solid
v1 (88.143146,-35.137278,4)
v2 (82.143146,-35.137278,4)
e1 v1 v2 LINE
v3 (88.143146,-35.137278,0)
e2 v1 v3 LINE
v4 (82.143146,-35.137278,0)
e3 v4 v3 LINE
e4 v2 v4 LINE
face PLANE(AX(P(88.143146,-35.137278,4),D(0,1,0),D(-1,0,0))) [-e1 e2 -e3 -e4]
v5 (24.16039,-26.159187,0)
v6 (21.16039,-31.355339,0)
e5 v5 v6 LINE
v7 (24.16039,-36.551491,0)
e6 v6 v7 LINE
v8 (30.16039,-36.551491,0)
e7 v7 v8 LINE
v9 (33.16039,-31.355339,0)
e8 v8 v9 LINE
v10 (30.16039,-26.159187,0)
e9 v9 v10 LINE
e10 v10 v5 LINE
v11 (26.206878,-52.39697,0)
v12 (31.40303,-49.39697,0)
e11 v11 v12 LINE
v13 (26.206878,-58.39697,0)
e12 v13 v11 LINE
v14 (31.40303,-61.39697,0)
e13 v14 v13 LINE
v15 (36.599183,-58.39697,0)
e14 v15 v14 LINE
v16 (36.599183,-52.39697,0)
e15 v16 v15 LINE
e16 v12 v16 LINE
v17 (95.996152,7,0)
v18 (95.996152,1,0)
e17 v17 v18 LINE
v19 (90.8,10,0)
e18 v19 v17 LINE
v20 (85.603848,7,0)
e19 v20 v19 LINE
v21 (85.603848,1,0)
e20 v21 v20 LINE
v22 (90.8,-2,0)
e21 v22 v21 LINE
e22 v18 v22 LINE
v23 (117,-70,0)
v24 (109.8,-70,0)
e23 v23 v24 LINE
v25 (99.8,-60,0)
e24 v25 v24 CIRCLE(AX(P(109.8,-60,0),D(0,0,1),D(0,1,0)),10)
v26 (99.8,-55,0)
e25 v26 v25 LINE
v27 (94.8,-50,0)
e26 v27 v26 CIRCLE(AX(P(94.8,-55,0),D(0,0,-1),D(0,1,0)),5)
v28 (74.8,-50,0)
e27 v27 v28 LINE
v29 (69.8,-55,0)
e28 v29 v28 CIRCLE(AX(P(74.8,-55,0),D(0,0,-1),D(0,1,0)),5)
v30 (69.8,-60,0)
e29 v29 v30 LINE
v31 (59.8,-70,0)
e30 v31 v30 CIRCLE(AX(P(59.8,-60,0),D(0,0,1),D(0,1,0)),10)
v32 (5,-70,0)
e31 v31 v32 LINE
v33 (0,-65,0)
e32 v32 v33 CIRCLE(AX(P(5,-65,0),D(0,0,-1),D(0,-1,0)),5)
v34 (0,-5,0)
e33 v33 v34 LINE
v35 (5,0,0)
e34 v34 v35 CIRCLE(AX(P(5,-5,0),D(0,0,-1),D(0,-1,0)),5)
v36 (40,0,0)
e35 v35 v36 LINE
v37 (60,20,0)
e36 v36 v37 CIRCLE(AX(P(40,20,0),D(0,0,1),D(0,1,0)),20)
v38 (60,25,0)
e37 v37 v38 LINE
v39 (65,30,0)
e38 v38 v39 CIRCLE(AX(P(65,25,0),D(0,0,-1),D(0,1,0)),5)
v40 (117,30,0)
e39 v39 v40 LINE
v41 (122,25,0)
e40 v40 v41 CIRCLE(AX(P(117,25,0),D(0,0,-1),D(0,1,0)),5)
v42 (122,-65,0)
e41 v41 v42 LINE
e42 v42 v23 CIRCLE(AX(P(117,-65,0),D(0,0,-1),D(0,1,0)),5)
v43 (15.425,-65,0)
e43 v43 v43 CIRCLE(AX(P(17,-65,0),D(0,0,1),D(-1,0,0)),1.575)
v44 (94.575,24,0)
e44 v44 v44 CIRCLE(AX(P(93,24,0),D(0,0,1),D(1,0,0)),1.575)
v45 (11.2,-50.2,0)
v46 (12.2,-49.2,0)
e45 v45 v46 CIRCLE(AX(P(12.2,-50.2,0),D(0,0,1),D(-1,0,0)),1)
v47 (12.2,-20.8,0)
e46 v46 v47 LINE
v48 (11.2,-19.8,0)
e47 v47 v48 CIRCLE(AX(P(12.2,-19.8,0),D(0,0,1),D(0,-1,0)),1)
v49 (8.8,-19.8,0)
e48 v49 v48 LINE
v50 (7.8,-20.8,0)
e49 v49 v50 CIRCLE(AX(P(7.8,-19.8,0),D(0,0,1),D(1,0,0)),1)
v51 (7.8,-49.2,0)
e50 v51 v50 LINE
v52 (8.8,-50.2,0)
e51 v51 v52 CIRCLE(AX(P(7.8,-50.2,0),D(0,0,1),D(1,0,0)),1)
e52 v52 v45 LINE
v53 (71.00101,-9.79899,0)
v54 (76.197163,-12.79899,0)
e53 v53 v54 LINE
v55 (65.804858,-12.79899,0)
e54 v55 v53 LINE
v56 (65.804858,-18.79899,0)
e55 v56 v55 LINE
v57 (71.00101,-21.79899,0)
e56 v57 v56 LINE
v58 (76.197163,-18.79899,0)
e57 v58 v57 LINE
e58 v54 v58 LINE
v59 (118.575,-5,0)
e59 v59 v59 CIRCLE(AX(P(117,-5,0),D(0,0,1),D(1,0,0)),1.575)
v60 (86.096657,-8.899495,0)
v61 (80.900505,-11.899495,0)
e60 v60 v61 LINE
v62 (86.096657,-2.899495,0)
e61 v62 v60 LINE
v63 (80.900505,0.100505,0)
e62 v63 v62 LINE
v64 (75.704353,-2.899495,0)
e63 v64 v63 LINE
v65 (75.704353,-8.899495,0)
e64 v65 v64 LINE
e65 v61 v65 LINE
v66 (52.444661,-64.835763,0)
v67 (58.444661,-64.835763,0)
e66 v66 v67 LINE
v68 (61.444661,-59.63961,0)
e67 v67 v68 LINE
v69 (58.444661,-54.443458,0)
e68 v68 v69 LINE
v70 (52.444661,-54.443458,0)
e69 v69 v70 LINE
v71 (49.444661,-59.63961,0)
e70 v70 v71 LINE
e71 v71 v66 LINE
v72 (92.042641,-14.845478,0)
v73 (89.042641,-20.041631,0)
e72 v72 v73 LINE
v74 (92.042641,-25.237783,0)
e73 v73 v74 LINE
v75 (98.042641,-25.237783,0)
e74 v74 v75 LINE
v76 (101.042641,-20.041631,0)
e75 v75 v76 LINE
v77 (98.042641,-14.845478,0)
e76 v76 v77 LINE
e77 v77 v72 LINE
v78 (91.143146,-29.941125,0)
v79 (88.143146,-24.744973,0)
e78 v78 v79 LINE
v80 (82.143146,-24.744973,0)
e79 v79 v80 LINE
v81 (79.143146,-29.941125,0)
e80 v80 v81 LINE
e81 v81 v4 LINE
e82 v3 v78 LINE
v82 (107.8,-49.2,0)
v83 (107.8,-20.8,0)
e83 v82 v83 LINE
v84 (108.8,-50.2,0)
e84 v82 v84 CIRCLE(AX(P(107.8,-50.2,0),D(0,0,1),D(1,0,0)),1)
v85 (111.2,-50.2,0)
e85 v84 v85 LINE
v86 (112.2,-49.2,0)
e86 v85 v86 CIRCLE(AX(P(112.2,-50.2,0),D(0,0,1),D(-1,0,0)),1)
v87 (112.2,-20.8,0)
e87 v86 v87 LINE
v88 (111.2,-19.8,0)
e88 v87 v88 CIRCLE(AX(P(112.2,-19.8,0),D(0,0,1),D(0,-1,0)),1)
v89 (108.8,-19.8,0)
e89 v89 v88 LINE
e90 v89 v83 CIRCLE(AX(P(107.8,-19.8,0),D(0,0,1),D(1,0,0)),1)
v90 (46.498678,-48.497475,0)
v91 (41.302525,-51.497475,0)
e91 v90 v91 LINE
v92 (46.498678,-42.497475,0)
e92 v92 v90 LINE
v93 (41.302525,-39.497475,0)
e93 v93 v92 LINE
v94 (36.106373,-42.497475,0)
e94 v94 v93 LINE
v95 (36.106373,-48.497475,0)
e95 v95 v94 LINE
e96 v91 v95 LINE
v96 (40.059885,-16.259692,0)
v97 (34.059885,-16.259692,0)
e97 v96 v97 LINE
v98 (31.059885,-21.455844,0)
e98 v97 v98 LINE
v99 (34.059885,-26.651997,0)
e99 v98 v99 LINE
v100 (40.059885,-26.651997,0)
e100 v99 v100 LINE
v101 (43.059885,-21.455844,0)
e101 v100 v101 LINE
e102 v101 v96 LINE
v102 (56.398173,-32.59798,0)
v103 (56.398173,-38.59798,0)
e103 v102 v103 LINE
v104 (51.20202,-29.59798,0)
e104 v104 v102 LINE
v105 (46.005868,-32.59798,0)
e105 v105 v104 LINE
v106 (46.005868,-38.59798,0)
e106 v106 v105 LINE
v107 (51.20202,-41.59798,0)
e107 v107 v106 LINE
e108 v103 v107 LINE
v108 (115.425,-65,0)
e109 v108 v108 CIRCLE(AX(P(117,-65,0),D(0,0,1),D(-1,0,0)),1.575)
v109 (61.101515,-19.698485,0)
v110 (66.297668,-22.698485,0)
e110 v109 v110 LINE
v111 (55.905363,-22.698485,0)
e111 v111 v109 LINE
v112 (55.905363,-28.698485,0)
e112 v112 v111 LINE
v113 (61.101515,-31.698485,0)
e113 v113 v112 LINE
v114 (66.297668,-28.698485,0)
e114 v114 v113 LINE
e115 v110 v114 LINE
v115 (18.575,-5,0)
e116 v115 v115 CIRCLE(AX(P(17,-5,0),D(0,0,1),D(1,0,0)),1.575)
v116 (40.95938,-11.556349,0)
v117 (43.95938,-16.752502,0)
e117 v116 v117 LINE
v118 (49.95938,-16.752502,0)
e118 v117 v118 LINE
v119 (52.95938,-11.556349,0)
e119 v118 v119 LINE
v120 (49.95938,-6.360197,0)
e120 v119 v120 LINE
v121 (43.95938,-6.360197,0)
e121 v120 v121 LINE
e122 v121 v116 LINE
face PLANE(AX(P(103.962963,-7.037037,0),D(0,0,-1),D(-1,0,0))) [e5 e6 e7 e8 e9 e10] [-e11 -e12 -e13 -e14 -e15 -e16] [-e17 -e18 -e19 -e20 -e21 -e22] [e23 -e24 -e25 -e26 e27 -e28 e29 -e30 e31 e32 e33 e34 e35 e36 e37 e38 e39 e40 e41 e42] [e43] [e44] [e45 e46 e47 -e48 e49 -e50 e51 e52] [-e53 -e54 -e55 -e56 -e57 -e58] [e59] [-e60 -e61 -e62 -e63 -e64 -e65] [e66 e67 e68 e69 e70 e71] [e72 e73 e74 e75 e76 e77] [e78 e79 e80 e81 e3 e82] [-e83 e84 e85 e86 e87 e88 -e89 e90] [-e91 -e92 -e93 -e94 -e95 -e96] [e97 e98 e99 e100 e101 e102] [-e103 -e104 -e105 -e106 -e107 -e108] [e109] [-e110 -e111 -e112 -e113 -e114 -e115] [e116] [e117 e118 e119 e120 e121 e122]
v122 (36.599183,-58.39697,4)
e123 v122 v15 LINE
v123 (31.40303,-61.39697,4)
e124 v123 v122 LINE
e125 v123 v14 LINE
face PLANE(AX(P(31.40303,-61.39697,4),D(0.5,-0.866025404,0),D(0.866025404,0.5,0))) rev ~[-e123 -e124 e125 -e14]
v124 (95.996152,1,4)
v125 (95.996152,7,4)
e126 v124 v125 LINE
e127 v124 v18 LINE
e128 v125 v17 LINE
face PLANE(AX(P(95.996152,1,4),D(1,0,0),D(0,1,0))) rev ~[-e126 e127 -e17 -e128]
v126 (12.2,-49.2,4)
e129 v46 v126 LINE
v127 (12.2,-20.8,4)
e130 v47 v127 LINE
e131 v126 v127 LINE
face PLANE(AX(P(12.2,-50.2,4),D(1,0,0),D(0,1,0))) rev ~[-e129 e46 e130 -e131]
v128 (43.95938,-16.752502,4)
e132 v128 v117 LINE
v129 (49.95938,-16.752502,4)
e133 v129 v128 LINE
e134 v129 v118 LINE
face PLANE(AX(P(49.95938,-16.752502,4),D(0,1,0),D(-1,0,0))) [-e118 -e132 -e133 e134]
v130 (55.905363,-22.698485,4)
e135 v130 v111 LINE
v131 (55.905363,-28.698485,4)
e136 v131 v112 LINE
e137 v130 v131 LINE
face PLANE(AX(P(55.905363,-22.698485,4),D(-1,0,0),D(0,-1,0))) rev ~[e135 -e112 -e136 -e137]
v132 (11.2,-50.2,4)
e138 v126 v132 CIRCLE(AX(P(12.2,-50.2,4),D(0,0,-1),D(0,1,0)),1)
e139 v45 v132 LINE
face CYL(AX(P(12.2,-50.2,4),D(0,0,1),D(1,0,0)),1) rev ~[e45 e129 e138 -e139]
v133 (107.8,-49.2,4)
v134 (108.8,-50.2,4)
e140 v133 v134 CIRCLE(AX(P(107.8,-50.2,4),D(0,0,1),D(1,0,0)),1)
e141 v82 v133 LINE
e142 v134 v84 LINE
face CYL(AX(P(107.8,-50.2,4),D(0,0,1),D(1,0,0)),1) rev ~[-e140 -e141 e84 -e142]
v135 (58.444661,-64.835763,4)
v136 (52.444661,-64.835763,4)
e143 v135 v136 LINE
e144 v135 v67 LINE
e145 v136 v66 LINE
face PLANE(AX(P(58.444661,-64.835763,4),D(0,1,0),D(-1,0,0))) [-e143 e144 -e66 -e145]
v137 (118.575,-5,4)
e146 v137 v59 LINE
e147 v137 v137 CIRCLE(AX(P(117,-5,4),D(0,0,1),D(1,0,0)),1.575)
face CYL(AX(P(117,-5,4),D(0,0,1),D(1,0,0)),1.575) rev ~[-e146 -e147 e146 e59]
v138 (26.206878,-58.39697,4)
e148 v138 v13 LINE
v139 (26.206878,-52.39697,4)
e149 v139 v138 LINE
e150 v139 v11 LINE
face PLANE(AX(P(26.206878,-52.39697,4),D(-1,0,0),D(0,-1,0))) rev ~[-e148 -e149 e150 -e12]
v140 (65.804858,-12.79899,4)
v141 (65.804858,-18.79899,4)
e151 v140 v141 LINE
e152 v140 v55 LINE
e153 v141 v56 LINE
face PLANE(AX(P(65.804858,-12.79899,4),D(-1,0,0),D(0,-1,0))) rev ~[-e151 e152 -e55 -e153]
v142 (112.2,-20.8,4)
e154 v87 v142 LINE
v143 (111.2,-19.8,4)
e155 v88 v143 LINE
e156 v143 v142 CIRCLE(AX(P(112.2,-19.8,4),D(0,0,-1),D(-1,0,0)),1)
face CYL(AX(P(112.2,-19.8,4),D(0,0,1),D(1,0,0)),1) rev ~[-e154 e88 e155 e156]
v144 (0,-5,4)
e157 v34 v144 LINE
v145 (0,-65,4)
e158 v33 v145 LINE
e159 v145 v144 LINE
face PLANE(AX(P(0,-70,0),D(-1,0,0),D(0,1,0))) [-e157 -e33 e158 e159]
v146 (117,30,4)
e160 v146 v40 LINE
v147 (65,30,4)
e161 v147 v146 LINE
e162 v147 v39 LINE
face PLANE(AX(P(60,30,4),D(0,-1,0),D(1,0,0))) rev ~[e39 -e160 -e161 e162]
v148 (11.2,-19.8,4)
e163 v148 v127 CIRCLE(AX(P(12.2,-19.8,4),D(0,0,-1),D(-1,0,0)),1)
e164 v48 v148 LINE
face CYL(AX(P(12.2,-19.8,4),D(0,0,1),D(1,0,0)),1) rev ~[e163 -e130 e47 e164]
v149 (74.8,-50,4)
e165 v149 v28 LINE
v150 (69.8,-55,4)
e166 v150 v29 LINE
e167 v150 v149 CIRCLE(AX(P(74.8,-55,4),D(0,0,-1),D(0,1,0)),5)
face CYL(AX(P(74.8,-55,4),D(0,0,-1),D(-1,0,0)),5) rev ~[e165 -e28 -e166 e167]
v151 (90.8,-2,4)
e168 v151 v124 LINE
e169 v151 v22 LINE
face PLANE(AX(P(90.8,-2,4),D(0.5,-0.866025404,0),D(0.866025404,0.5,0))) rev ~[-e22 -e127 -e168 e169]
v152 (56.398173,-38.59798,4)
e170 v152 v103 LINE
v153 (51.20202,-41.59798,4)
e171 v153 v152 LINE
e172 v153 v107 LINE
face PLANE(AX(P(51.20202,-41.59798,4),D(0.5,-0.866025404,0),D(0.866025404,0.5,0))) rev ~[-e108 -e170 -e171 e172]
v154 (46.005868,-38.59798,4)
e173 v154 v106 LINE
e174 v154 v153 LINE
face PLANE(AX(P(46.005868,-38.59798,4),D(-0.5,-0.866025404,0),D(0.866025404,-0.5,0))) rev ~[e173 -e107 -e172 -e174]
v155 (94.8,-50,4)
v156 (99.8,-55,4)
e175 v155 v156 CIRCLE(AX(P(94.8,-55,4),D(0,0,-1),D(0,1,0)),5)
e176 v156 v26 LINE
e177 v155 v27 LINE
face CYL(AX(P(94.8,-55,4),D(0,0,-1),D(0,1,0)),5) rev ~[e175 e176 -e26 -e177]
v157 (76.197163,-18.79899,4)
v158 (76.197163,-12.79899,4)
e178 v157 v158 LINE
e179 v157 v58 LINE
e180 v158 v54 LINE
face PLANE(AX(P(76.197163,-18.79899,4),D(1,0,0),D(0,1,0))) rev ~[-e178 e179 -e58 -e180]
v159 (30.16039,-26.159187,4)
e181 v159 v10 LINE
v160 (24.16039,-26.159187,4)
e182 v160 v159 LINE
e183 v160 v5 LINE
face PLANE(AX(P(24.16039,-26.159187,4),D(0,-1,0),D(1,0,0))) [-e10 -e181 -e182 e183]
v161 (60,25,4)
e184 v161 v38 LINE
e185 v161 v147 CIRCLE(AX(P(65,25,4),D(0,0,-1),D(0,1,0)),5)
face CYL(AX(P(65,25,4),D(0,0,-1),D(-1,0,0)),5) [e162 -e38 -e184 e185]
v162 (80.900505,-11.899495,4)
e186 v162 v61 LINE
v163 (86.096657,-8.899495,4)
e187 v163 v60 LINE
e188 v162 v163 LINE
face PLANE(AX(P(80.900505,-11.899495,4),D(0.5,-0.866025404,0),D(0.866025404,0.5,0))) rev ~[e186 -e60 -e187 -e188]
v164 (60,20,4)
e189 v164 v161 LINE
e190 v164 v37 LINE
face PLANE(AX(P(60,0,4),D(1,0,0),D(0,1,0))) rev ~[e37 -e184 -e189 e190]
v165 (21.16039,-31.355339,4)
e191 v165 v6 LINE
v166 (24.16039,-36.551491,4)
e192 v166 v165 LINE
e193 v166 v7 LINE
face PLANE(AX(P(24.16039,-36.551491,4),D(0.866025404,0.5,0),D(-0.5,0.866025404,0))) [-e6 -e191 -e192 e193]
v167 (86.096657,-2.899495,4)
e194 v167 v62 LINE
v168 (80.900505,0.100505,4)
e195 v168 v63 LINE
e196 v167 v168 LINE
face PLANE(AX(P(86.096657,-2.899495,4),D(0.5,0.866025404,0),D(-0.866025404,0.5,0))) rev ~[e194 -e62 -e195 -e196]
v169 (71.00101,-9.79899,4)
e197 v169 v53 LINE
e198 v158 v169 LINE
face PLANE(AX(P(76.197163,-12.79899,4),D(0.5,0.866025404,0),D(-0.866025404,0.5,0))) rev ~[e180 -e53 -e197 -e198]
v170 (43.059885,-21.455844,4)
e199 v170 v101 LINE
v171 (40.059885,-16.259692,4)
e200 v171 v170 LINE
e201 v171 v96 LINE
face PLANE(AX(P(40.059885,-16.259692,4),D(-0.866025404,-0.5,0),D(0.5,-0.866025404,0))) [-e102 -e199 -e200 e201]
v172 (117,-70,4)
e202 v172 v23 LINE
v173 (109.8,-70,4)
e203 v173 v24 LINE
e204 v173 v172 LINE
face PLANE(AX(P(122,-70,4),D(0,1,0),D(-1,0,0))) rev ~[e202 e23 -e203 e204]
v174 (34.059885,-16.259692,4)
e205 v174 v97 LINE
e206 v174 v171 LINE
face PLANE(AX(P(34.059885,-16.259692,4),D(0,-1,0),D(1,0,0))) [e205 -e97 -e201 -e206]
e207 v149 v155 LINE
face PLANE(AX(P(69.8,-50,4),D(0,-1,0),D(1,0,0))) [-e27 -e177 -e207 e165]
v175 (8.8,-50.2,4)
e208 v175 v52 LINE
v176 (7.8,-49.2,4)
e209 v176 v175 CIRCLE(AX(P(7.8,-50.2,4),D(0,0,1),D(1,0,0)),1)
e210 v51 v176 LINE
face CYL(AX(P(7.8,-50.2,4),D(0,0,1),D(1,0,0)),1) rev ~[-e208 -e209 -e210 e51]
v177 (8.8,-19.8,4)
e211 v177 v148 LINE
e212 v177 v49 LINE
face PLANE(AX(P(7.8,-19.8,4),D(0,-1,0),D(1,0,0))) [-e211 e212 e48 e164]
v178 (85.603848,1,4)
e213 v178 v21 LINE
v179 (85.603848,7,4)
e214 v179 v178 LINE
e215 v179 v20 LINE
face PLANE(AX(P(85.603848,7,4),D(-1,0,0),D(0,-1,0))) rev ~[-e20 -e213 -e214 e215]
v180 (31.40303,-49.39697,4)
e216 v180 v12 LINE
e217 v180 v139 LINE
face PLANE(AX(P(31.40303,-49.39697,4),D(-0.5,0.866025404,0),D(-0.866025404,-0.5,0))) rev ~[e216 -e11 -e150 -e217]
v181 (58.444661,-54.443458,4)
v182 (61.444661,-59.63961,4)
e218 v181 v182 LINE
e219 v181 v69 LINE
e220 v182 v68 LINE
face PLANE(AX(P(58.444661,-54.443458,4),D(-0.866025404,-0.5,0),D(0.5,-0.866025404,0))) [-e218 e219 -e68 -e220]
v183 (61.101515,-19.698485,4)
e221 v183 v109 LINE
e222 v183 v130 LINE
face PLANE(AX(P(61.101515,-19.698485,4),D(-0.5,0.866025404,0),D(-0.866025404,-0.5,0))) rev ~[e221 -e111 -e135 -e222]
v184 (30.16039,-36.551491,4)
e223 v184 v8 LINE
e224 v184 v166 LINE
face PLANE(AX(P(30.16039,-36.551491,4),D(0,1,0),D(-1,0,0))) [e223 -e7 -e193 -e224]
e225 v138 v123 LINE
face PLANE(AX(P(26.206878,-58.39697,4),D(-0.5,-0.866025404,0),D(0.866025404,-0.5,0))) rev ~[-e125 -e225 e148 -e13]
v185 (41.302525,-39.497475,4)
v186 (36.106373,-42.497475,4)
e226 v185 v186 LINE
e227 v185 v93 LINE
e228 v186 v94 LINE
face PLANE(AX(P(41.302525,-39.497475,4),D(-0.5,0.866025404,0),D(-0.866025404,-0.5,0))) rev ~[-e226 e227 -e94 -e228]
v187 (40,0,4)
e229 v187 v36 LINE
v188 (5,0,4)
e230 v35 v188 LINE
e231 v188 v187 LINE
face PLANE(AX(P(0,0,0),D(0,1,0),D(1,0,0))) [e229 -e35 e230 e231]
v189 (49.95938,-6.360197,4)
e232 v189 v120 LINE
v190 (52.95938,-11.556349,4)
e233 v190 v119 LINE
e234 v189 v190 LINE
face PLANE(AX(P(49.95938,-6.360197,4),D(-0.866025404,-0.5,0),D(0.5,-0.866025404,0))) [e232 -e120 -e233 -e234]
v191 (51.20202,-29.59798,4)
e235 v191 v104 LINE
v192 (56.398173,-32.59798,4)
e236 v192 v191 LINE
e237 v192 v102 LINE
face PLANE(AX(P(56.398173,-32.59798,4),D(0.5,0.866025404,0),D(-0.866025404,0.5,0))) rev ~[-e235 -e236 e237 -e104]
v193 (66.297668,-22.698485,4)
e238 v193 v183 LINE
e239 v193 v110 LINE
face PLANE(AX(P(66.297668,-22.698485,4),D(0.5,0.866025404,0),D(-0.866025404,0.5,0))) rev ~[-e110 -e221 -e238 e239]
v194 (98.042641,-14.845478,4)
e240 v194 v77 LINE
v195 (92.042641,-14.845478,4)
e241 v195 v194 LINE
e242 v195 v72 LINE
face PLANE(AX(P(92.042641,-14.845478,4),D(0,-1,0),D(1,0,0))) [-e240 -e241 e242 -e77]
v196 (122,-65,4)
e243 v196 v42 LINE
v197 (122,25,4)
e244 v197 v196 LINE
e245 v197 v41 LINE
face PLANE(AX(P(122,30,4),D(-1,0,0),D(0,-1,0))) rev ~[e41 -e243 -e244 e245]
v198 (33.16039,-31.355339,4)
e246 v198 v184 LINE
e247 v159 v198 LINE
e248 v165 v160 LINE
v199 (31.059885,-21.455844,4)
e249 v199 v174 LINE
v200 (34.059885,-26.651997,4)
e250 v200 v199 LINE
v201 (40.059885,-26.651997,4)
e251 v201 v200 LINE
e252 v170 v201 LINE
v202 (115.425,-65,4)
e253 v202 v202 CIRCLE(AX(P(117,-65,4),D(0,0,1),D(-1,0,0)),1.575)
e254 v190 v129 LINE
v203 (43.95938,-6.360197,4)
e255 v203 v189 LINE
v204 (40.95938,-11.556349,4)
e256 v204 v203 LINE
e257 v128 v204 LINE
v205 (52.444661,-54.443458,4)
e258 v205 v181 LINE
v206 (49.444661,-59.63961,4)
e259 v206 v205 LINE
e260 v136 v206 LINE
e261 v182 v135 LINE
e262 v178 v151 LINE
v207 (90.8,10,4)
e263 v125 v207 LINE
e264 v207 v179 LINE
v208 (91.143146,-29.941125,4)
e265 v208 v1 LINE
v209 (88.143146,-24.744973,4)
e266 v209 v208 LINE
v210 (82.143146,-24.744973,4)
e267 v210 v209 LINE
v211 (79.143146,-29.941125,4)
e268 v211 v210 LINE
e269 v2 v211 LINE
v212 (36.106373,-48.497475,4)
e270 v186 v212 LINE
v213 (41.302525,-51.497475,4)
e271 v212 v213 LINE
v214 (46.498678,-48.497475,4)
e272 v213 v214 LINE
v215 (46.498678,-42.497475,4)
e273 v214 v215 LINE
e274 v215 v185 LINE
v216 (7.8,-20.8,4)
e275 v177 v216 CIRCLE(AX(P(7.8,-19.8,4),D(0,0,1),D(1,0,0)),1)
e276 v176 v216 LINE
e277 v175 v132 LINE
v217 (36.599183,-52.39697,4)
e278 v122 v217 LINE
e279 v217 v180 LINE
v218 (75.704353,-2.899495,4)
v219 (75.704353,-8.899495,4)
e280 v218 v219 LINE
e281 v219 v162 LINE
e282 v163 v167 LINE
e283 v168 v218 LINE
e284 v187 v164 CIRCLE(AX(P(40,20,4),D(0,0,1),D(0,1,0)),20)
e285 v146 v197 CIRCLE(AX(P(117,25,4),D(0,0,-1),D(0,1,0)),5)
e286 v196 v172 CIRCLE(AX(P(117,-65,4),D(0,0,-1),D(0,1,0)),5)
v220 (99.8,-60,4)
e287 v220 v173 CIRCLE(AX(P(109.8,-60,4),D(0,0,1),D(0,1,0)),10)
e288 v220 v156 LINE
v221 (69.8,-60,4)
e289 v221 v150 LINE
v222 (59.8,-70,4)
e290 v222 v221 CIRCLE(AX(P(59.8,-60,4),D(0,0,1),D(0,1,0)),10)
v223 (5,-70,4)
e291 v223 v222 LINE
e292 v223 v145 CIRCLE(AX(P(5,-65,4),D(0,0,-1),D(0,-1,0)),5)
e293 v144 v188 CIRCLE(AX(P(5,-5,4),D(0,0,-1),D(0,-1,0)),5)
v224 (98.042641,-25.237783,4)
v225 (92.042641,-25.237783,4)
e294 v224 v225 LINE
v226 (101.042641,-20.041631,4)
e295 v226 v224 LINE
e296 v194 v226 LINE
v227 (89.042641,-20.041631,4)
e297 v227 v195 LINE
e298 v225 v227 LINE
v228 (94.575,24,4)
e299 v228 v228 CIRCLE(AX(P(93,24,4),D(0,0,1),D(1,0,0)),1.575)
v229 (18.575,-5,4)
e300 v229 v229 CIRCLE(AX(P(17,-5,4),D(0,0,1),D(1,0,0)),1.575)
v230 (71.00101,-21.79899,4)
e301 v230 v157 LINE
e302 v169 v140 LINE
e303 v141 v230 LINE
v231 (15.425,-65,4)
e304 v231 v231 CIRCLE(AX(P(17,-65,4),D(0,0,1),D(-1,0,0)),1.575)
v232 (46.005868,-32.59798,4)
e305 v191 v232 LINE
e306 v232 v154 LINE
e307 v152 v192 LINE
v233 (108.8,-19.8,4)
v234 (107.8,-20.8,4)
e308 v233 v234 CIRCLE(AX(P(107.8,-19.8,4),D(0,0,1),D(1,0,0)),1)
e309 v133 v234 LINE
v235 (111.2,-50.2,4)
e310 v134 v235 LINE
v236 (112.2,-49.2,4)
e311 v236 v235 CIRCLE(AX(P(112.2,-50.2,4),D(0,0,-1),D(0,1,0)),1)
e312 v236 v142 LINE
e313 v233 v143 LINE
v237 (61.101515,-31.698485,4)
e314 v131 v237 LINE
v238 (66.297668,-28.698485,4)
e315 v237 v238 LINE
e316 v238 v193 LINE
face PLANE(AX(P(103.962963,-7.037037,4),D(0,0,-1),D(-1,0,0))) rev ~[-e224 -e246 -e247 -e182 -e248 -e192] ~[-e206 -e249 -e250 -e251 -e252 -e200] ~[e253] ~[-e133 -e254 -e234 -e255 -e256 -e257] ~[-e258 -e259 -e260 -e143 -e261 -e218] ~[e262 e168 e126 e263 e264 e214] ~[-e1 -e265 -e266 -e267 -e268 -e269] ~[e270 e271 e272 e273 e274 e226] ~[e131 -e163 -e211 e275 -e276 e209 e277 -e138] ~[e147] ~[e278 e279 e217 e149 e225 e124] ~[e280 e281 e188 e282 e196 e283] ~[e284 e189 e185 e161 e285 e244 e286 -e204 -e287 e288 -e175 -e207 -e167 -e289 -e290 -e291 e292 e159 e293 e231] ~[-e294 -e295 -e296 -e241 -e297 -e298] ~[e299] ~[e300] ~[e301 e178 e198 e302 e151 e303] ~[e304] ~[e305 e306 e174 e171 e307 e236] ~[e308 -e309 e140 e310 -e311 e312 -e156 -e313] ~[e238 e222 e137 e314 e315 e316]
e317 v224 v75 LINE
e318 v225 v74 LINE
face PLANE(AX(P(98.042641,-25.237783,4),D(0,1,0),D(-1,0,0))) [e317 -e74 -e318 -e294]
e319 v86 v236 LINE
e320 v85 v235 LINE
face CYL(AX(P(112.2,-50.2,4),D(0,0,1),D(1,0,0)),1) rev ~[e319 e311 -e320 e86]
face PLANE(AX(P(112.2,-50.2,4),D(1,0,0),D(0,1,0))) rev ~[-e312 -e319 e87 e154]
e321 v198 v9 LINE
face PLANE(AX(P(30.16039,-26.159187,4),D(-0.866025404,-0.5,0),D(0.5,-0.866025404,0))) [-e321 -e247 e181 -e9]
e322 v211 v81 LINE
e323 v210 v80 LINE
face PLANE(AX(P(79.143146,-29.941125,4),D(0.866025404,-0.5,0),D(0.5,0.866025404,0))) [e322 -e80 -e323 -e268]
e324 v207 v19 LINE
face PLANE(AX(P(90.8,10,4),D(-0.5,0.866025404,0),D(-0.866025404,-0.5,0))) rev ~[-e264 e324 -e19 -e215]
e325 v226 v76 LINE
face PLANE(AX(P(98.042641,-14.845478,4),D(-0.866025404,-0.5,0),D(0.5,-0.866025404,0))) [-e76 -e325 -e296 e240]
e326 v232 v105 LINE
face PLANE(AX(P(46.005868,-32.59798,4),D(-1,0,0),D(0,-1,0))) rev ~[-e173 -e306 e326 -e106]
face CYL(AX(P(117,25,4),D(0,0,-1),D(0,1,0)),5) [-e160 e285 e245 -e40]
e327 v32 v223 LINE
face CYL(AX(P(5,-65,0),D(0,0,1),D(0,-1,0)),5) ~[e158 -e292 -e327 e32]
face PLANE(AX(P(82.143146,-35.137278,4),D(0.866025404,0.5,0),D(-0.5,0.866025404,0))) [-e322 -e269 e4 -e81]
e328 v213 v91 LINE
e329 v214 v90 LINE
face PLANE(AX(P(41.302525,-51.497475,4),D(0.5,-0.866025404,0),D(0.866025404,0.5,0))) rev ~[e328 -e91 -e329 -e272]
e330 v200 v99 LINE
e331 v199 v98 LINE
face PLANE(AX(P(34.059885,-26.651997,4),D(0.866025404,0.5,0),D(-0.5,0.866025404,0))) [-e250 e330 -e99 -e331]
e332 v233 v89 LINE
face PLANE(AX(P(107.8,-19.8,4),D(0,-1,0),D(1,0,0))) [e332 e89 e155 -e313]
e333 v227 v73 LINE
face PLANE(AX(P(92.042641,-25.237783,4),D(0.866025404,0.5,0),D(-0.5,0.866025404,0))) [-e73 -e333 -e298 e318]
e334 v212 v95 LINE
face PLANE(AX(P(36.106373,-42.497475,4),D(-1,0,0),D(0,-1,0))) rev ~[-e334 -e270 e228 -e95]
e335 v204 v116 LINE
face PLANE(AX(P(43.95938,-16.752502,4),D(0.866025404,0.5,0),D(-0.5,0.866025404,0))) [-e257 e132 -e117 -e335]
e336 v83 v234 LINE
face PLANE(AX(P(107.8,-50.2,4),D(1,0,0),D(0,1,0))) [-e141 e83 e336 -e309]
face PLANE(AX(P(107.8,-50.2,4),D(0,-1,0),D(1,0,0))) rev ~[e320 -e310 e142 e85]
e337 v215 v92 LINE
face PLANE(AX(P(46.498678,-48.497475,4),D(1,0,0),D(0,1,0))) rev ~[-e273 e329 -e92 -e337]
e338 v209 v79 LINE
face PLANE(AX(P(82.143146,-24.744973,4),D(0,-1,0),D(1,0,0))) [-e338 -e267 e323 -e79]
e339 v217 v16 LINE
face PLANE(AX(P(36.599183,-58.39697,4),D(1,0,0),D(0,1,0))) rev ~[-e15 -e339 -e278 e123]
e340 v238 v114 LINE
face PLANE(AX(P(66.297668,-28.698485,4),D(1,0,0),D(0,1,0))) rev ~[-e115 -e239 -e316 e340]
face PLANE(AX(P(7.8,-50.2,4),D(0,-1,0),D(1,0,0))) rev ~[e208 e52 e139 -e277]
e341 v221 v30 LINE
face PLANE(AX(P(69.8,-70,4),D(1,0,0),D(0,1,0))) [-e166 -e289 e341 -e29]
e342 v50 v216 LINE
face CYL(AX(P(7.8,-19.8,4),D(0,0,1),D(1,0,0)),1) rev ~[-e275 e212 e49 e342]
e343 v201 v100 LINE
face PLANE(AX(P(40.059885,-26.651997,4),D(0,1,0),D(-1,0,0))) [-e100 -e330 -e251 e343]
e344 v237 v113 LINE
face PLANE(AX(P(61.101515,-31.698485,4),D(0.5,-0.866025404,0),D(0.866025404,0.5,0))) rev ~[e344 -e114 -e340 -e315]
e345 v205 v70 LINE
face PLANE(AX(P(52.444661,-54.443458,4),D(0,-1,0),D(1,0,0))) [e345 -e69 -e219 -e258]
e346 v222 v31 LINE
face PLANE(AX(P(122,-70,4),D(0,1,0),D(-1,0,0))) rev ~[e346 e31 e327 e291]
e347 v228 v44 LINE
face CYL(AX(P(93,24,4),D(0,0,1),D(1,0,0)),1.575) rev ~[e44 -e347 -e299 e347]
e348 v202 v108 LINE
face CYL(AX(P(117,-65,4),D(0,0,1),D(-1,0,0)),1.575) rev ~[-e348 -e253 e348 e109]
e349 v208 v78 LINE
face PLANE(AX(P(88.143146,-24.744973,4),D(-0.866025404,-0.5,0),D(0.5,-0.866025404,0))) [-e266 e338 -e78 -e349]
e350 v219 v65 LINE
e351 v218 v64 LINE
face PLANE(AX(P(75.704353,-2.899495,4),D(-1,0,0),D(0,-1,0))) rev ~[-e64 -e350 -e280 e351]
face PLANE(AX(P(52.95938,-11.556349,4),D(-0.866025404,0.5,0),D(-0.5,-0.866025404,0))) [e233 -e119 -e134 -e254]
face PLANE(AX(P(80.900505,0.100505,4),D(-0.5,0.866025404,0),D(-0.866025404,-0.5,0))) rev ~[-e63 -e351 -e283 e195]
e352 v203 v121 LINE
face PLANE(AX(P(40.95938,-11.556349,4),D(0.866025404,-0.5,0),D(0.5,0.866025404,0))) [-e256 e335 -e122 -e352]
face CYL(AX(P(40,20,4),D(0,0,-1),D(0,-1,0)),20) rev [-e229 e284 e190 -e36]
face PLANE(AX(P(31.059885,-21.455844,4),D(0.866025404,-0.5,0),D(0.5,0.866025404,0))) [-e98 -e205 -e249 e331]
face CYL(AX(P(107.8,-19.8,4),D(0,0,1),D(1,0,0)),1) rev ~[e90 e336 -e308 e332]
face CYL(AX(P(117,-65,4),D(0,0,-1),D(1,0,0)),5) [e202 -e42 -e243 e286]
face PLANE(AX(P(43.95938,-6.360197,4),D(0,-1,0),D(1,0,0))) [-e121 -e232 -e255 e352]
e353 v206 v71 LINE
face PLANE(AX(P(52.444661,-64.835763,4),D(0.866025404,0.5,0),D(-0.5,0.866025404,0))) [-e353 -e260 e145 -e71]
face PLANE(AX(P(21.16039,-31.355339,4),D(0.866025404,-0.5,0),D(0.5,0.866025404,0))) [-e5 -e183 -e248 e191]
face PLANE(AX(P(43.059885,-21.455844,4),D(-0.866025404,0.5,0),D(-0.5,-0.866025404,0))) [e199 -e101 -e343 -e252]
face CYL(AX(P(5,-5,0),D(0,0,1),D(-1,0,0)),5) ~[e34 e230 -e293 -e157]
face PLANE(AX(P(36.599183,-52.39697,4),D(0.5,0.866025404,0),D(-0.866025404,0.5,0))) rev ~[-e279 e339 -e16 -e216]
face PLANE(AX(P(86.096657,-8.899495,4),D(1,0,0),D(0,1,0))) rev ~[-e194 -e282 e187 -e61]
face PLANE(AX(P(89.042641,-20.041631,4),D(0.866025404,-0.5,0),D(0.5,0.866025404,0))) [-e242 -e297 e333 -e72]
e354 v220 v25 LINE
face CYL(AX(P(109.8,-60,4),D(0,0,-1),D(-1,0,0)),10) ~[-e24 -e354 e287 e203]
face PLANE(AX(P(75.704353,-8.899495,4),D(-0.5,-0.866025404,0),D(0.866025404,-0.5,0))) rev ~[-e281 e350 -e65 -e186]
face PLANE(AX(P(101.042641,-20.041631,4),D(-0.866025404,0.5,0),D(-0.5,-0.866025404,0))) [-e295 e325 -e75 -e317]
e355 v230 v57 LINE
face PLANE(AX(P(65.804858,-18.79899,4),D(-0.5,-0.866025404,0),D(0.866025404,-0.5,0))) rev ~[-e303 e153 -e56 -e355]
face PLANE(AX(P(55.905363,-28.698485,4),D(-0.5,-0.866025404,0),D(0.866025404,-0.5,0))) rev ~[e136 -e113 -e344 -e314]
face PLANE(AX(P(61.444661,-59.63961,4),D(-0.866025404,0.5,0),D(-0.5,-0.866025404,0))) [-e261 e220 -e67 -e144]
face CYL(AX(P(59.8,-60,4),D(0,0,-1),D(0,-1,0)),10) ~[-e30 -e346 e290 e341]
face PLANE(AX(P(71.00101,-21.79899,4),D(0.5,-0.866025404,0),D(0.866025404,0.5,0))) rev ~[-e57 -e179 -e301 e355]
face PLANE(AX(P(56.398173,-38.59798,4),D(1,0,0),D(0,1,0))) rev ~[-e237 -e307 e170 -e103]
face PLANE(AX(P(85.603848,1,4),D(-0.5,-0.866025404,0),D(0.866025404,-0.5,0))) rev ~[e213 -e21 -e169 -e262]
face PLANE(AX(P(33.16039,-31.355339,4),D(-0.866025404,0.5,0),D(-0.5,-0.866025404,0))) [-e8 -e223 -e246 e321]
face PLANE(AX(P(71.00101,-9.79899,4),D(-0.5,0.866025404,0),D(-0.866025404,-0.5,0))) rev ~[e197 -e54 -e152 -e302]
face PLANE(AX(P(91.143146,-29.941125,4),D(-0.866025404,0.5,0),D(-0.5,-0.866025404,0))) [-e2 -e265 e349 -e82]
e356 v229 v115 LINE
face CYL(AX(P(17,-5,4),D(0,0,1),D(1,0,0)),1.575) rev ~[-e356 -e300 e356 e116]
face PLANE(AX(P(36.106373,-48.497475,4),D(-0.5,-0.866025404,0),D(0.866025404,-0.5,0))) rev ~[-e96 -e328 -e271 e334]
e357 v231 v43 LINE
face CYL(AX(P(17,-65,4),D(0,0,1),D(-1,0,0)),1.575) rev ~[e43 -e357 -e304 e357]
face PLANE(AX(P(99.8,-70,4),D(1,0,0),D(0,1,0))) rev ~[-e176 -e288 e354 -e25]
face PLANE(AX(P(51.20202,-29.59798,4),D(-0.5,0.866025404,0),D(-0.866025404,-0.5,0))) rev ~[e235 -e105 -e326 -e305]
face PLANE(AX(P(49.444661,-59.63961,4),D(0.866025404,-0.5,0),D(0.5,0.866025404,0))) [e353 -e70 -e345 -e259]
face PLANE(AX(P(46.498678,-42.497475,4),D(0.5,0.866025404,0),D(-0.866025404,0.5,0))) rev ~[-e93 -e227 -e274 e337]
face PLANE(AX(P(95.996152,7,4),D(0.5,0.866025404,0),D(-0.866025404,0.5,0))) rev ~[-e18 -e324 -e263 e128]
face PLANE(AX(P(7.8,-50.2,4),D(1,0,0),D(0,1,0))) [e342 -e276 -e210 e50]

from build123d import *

# Parameters (mm, degrees)
SKETCH_1_W          = 120
SKETCH_1_H          = 70
EXTRUDE_1_DEPTH     = 4
SKETCH_2_W          = 4.4
SKETCH_2_H          = 30.4
CUT_EXTRUDE_1_DEPTH = 139.982013225
SKETCH_3_R          = 1
SKETCH_3_R_2        = 1.575
CUT_EXTRUDE_2_DEPTH = 139.982013225
EXTRUDE_2_DEPTH     = 4
SKETCH_5_R          = 1.575
SKETCH_5_W          = 30
SKETCH_5_H          = 20
CUT_EXTRUDE_3_DEPTH = 141.712472795
FILLET_1_R          = 10
FILLET_2_R          = 5
FILLET_3_R          = 20


with BuildPart() as part:
    # 草图1 → 凸台-拉伸1 (new body)
    with BuildSketch(Plane.XY):
        with Locations((60, -35)):
            Rectangle(SKETCH_1_W, SKETCH_1_H)
    extrude(amount=EXTRUDE_1_DEPTH)

    # 草图2 → 切除-拉伸1 (cut, through all)
    with BuildSketch(Plane.XY.offset(4)):
        with Locations((10, -35)):
            Rectangle(SKETCH_2_W, SKETCH_2_H)
        with Locations((110, -35)):
            Rectangle(SKETCH_2_W, SKETCH_2_H)
    extrude(amount=-CUT_EXTRUDE_1_DEPTH, mode=Mode.SUBTRACT)

    # 草图3 → 切除-拉伸2 (cut, through all)
    with BuildSketch(Plane.XY.offset(4)):
        with Locations((7.8, -19.8)):
            Circle(SKETCH_3_R)
        with Locations((12.2, -19.8)):
            Circle(SKETCH_3_R)
        with Locations((7.8, -50.2)):
            Circle(SKETCH_3_R)
        with Locations((12.2, -50.2)):
            Circle(SKETCH_3_R)
        with Locations((107.8, -19.8)):
            Circle(SKETCH_3_R)
        with Locations((107.8, -50.2)):
            Circle(SKETCH_3_R)
        with Locations((112.2, -50.2)):
            Circle(SKETCH_3_R)
        with Locations((112.2, -19.8)):
            Circle(SKETCH_3_R)
        with Locations((17, -5)):
            Circle(SKETCH_3_R_2)
        with Locations(Location((17, -65, 0), (0, 0, 180))):
            Circle(SKETCH_3_R_2)
        with Locations((117, -5)):
            Circle(SKETCH_3_R_2)
        with Locations(Location((117, -65, 0), (0, 0, 180))):
            Circle(SKETCH_3_R_2)
    extrude(amount=-CUT_EXTRUDE_2_DEPTH, mode=Mode.SUBTRACT)

    # 草图4 → 凸台-拉伸2 (add)
    with BuildSketch(Plane.XY.offset(4)):
        Polygon((60, 0), (60, 30), (122, 30), (122, -70), (120, -70), (120, 0), align=None)
    extrude(amount=-EXTRUDE_2_DEPTH)

    # 草图5 → 切除-拉伸3 (cut, through all)
    with BuildSketch(Plane.XY.offset(4)):
        with Locations((93, 24)):
            Circle(SKETCH_5_R)
        with Locations((84.8, -60)):
            Rectangle(SKETCH_5_W, SKETCH_5_H)
        Polygon((90.8, -2), (95.996152423, 1), (95.996152423, 7), (90.8, 10), (85.603847577, 7), (85.603847577, 1), align=None)
        Polygon((86.096657486, -2.899494937), (80.900505063, 0.100505063), (75.704352641, -2.899494937), (75.704352641, -8.899494937), (80.900505063, -11.899494937), (86.096657486, -8.899494937), align=None)
        Polygon((76.197162549, -12.798989873), (71.001010127, -9.798989873), (65.804857704, -12.798989873), (65.804857704, -18.798989873), (71.001010127, -21.798989873), (76.197162549, -18.798989873), align=None)
        Polygon((66.297667613, -22.69848481), (61.10151519, -19.69848481), (55.905362767, -22.69848481), (55.905362767, -28.69848481), (61.10151519, -31.69848481), (66.297667613, -28.69848481), align=None)
        Polygon((56.398172676, -32.597979746), (51.202020254, -29.597979746), (46.005867831, -32.597979746), (46.005867831, -38.597979746), (51.202020254, -41.597979746), (56.398172676, -38.597979746), align=None)
        Polygon((46.49867774, -42.497474683), (41.302525317, -39.497474683), (36.106372894, -42.497474683), (36.106372894, -48.497474683), (41.302525317, -51.497474683), (46.49867774, -48.497474683), align=None)
        Polygon((36.599182803, -52.39696962), (31.40303038, -49.39696962), (26.206877958, -52.39696962), (26.206877958, -58.39696962), (31.40303038, -61.39696962), (36.599182803, -58.39696962), align=None)
        Polygon((91.143145751, -29.941125497), (88.143145751, -35.13727792), (82.143145751, -35.13727792), (79.143145751, -29.941125497), (82.143145751, -24.744973074), (88.143145751, -24.744973074), align=None)
        Polygon((101.042640687, -20.04163056), (98.042640687, -25.237782983), (92.042640687, -25.237782983), (89.042640687, -20.04163056), (92.042640687, -14.845478138), (98.042640687, -14.845478138), align=None)
        Polygon((61.444660941, -59.639610307), (58.444660941, -64.835762729), (52.444660941, -64.835762729), (49.444660941, -59.639610307), (52.444660941, -54.443457884), (58.444660941, -54.443457884), align=None)
        Polygon((31.05988463, -21.455844123), (34.05988463, -16.2596917), (40.05988463, -16.2596917), (43.05988463, -21.455844123), (40.05988463, -26.651996545), (34.05988463, -26.651996545), align=None)
        Polygon((30.160389693, -36.551491482), (24.160389693, -36.551491482), (21.160389693, -31.355339059), (24.160389693, -26.159186637), (30.160389693, -26.159186637), (33.160389693, -31.355339059), align=None)
        Polygon((43.959379566, -16.752501609), (40.959379566, -11.556349186), (43.959379566, -6.360196763), (49.959379566, -6.360196763), (52.959379566, -11.556349186), (49.959379566, -16.752501609), align=None)
    extrude(amount=-CUT_EXTRUDE_3_DEPTH, mode=Mode.SUBTRACT)

    # 圆角1
    fillet_1_edges = [part.edges().sort_by_distance(p)[0] for p in [
        (69.8, -70, 2),
        (99.8, -70, 2),
    ]]
    fillet(fillet_1_edges, radius=FILLET_1_R)

    # 圆角2
    fillet_2_edges = [part.edges().sort_by_distance(p)[0] for p in [
        (60, 30, 2),
        (122, 30, 2),
        (122, -70, 2),
        (69.8, -50, 2),
        (99.8, -50, 2),
        (0, 0, 2),
        (0, -70, 2),
    ]]
    fillet(fillet_2_edges, radius=FILLET_2_R)

    # 圆角3
    fillet_3_edges = [part.edges().sort_by_distance(p)[0] for p in [
        (60, 0, 2),
    ]]
    fillet(fillet_3_edges, radius=FILLET_3_R)


solid = part.part
